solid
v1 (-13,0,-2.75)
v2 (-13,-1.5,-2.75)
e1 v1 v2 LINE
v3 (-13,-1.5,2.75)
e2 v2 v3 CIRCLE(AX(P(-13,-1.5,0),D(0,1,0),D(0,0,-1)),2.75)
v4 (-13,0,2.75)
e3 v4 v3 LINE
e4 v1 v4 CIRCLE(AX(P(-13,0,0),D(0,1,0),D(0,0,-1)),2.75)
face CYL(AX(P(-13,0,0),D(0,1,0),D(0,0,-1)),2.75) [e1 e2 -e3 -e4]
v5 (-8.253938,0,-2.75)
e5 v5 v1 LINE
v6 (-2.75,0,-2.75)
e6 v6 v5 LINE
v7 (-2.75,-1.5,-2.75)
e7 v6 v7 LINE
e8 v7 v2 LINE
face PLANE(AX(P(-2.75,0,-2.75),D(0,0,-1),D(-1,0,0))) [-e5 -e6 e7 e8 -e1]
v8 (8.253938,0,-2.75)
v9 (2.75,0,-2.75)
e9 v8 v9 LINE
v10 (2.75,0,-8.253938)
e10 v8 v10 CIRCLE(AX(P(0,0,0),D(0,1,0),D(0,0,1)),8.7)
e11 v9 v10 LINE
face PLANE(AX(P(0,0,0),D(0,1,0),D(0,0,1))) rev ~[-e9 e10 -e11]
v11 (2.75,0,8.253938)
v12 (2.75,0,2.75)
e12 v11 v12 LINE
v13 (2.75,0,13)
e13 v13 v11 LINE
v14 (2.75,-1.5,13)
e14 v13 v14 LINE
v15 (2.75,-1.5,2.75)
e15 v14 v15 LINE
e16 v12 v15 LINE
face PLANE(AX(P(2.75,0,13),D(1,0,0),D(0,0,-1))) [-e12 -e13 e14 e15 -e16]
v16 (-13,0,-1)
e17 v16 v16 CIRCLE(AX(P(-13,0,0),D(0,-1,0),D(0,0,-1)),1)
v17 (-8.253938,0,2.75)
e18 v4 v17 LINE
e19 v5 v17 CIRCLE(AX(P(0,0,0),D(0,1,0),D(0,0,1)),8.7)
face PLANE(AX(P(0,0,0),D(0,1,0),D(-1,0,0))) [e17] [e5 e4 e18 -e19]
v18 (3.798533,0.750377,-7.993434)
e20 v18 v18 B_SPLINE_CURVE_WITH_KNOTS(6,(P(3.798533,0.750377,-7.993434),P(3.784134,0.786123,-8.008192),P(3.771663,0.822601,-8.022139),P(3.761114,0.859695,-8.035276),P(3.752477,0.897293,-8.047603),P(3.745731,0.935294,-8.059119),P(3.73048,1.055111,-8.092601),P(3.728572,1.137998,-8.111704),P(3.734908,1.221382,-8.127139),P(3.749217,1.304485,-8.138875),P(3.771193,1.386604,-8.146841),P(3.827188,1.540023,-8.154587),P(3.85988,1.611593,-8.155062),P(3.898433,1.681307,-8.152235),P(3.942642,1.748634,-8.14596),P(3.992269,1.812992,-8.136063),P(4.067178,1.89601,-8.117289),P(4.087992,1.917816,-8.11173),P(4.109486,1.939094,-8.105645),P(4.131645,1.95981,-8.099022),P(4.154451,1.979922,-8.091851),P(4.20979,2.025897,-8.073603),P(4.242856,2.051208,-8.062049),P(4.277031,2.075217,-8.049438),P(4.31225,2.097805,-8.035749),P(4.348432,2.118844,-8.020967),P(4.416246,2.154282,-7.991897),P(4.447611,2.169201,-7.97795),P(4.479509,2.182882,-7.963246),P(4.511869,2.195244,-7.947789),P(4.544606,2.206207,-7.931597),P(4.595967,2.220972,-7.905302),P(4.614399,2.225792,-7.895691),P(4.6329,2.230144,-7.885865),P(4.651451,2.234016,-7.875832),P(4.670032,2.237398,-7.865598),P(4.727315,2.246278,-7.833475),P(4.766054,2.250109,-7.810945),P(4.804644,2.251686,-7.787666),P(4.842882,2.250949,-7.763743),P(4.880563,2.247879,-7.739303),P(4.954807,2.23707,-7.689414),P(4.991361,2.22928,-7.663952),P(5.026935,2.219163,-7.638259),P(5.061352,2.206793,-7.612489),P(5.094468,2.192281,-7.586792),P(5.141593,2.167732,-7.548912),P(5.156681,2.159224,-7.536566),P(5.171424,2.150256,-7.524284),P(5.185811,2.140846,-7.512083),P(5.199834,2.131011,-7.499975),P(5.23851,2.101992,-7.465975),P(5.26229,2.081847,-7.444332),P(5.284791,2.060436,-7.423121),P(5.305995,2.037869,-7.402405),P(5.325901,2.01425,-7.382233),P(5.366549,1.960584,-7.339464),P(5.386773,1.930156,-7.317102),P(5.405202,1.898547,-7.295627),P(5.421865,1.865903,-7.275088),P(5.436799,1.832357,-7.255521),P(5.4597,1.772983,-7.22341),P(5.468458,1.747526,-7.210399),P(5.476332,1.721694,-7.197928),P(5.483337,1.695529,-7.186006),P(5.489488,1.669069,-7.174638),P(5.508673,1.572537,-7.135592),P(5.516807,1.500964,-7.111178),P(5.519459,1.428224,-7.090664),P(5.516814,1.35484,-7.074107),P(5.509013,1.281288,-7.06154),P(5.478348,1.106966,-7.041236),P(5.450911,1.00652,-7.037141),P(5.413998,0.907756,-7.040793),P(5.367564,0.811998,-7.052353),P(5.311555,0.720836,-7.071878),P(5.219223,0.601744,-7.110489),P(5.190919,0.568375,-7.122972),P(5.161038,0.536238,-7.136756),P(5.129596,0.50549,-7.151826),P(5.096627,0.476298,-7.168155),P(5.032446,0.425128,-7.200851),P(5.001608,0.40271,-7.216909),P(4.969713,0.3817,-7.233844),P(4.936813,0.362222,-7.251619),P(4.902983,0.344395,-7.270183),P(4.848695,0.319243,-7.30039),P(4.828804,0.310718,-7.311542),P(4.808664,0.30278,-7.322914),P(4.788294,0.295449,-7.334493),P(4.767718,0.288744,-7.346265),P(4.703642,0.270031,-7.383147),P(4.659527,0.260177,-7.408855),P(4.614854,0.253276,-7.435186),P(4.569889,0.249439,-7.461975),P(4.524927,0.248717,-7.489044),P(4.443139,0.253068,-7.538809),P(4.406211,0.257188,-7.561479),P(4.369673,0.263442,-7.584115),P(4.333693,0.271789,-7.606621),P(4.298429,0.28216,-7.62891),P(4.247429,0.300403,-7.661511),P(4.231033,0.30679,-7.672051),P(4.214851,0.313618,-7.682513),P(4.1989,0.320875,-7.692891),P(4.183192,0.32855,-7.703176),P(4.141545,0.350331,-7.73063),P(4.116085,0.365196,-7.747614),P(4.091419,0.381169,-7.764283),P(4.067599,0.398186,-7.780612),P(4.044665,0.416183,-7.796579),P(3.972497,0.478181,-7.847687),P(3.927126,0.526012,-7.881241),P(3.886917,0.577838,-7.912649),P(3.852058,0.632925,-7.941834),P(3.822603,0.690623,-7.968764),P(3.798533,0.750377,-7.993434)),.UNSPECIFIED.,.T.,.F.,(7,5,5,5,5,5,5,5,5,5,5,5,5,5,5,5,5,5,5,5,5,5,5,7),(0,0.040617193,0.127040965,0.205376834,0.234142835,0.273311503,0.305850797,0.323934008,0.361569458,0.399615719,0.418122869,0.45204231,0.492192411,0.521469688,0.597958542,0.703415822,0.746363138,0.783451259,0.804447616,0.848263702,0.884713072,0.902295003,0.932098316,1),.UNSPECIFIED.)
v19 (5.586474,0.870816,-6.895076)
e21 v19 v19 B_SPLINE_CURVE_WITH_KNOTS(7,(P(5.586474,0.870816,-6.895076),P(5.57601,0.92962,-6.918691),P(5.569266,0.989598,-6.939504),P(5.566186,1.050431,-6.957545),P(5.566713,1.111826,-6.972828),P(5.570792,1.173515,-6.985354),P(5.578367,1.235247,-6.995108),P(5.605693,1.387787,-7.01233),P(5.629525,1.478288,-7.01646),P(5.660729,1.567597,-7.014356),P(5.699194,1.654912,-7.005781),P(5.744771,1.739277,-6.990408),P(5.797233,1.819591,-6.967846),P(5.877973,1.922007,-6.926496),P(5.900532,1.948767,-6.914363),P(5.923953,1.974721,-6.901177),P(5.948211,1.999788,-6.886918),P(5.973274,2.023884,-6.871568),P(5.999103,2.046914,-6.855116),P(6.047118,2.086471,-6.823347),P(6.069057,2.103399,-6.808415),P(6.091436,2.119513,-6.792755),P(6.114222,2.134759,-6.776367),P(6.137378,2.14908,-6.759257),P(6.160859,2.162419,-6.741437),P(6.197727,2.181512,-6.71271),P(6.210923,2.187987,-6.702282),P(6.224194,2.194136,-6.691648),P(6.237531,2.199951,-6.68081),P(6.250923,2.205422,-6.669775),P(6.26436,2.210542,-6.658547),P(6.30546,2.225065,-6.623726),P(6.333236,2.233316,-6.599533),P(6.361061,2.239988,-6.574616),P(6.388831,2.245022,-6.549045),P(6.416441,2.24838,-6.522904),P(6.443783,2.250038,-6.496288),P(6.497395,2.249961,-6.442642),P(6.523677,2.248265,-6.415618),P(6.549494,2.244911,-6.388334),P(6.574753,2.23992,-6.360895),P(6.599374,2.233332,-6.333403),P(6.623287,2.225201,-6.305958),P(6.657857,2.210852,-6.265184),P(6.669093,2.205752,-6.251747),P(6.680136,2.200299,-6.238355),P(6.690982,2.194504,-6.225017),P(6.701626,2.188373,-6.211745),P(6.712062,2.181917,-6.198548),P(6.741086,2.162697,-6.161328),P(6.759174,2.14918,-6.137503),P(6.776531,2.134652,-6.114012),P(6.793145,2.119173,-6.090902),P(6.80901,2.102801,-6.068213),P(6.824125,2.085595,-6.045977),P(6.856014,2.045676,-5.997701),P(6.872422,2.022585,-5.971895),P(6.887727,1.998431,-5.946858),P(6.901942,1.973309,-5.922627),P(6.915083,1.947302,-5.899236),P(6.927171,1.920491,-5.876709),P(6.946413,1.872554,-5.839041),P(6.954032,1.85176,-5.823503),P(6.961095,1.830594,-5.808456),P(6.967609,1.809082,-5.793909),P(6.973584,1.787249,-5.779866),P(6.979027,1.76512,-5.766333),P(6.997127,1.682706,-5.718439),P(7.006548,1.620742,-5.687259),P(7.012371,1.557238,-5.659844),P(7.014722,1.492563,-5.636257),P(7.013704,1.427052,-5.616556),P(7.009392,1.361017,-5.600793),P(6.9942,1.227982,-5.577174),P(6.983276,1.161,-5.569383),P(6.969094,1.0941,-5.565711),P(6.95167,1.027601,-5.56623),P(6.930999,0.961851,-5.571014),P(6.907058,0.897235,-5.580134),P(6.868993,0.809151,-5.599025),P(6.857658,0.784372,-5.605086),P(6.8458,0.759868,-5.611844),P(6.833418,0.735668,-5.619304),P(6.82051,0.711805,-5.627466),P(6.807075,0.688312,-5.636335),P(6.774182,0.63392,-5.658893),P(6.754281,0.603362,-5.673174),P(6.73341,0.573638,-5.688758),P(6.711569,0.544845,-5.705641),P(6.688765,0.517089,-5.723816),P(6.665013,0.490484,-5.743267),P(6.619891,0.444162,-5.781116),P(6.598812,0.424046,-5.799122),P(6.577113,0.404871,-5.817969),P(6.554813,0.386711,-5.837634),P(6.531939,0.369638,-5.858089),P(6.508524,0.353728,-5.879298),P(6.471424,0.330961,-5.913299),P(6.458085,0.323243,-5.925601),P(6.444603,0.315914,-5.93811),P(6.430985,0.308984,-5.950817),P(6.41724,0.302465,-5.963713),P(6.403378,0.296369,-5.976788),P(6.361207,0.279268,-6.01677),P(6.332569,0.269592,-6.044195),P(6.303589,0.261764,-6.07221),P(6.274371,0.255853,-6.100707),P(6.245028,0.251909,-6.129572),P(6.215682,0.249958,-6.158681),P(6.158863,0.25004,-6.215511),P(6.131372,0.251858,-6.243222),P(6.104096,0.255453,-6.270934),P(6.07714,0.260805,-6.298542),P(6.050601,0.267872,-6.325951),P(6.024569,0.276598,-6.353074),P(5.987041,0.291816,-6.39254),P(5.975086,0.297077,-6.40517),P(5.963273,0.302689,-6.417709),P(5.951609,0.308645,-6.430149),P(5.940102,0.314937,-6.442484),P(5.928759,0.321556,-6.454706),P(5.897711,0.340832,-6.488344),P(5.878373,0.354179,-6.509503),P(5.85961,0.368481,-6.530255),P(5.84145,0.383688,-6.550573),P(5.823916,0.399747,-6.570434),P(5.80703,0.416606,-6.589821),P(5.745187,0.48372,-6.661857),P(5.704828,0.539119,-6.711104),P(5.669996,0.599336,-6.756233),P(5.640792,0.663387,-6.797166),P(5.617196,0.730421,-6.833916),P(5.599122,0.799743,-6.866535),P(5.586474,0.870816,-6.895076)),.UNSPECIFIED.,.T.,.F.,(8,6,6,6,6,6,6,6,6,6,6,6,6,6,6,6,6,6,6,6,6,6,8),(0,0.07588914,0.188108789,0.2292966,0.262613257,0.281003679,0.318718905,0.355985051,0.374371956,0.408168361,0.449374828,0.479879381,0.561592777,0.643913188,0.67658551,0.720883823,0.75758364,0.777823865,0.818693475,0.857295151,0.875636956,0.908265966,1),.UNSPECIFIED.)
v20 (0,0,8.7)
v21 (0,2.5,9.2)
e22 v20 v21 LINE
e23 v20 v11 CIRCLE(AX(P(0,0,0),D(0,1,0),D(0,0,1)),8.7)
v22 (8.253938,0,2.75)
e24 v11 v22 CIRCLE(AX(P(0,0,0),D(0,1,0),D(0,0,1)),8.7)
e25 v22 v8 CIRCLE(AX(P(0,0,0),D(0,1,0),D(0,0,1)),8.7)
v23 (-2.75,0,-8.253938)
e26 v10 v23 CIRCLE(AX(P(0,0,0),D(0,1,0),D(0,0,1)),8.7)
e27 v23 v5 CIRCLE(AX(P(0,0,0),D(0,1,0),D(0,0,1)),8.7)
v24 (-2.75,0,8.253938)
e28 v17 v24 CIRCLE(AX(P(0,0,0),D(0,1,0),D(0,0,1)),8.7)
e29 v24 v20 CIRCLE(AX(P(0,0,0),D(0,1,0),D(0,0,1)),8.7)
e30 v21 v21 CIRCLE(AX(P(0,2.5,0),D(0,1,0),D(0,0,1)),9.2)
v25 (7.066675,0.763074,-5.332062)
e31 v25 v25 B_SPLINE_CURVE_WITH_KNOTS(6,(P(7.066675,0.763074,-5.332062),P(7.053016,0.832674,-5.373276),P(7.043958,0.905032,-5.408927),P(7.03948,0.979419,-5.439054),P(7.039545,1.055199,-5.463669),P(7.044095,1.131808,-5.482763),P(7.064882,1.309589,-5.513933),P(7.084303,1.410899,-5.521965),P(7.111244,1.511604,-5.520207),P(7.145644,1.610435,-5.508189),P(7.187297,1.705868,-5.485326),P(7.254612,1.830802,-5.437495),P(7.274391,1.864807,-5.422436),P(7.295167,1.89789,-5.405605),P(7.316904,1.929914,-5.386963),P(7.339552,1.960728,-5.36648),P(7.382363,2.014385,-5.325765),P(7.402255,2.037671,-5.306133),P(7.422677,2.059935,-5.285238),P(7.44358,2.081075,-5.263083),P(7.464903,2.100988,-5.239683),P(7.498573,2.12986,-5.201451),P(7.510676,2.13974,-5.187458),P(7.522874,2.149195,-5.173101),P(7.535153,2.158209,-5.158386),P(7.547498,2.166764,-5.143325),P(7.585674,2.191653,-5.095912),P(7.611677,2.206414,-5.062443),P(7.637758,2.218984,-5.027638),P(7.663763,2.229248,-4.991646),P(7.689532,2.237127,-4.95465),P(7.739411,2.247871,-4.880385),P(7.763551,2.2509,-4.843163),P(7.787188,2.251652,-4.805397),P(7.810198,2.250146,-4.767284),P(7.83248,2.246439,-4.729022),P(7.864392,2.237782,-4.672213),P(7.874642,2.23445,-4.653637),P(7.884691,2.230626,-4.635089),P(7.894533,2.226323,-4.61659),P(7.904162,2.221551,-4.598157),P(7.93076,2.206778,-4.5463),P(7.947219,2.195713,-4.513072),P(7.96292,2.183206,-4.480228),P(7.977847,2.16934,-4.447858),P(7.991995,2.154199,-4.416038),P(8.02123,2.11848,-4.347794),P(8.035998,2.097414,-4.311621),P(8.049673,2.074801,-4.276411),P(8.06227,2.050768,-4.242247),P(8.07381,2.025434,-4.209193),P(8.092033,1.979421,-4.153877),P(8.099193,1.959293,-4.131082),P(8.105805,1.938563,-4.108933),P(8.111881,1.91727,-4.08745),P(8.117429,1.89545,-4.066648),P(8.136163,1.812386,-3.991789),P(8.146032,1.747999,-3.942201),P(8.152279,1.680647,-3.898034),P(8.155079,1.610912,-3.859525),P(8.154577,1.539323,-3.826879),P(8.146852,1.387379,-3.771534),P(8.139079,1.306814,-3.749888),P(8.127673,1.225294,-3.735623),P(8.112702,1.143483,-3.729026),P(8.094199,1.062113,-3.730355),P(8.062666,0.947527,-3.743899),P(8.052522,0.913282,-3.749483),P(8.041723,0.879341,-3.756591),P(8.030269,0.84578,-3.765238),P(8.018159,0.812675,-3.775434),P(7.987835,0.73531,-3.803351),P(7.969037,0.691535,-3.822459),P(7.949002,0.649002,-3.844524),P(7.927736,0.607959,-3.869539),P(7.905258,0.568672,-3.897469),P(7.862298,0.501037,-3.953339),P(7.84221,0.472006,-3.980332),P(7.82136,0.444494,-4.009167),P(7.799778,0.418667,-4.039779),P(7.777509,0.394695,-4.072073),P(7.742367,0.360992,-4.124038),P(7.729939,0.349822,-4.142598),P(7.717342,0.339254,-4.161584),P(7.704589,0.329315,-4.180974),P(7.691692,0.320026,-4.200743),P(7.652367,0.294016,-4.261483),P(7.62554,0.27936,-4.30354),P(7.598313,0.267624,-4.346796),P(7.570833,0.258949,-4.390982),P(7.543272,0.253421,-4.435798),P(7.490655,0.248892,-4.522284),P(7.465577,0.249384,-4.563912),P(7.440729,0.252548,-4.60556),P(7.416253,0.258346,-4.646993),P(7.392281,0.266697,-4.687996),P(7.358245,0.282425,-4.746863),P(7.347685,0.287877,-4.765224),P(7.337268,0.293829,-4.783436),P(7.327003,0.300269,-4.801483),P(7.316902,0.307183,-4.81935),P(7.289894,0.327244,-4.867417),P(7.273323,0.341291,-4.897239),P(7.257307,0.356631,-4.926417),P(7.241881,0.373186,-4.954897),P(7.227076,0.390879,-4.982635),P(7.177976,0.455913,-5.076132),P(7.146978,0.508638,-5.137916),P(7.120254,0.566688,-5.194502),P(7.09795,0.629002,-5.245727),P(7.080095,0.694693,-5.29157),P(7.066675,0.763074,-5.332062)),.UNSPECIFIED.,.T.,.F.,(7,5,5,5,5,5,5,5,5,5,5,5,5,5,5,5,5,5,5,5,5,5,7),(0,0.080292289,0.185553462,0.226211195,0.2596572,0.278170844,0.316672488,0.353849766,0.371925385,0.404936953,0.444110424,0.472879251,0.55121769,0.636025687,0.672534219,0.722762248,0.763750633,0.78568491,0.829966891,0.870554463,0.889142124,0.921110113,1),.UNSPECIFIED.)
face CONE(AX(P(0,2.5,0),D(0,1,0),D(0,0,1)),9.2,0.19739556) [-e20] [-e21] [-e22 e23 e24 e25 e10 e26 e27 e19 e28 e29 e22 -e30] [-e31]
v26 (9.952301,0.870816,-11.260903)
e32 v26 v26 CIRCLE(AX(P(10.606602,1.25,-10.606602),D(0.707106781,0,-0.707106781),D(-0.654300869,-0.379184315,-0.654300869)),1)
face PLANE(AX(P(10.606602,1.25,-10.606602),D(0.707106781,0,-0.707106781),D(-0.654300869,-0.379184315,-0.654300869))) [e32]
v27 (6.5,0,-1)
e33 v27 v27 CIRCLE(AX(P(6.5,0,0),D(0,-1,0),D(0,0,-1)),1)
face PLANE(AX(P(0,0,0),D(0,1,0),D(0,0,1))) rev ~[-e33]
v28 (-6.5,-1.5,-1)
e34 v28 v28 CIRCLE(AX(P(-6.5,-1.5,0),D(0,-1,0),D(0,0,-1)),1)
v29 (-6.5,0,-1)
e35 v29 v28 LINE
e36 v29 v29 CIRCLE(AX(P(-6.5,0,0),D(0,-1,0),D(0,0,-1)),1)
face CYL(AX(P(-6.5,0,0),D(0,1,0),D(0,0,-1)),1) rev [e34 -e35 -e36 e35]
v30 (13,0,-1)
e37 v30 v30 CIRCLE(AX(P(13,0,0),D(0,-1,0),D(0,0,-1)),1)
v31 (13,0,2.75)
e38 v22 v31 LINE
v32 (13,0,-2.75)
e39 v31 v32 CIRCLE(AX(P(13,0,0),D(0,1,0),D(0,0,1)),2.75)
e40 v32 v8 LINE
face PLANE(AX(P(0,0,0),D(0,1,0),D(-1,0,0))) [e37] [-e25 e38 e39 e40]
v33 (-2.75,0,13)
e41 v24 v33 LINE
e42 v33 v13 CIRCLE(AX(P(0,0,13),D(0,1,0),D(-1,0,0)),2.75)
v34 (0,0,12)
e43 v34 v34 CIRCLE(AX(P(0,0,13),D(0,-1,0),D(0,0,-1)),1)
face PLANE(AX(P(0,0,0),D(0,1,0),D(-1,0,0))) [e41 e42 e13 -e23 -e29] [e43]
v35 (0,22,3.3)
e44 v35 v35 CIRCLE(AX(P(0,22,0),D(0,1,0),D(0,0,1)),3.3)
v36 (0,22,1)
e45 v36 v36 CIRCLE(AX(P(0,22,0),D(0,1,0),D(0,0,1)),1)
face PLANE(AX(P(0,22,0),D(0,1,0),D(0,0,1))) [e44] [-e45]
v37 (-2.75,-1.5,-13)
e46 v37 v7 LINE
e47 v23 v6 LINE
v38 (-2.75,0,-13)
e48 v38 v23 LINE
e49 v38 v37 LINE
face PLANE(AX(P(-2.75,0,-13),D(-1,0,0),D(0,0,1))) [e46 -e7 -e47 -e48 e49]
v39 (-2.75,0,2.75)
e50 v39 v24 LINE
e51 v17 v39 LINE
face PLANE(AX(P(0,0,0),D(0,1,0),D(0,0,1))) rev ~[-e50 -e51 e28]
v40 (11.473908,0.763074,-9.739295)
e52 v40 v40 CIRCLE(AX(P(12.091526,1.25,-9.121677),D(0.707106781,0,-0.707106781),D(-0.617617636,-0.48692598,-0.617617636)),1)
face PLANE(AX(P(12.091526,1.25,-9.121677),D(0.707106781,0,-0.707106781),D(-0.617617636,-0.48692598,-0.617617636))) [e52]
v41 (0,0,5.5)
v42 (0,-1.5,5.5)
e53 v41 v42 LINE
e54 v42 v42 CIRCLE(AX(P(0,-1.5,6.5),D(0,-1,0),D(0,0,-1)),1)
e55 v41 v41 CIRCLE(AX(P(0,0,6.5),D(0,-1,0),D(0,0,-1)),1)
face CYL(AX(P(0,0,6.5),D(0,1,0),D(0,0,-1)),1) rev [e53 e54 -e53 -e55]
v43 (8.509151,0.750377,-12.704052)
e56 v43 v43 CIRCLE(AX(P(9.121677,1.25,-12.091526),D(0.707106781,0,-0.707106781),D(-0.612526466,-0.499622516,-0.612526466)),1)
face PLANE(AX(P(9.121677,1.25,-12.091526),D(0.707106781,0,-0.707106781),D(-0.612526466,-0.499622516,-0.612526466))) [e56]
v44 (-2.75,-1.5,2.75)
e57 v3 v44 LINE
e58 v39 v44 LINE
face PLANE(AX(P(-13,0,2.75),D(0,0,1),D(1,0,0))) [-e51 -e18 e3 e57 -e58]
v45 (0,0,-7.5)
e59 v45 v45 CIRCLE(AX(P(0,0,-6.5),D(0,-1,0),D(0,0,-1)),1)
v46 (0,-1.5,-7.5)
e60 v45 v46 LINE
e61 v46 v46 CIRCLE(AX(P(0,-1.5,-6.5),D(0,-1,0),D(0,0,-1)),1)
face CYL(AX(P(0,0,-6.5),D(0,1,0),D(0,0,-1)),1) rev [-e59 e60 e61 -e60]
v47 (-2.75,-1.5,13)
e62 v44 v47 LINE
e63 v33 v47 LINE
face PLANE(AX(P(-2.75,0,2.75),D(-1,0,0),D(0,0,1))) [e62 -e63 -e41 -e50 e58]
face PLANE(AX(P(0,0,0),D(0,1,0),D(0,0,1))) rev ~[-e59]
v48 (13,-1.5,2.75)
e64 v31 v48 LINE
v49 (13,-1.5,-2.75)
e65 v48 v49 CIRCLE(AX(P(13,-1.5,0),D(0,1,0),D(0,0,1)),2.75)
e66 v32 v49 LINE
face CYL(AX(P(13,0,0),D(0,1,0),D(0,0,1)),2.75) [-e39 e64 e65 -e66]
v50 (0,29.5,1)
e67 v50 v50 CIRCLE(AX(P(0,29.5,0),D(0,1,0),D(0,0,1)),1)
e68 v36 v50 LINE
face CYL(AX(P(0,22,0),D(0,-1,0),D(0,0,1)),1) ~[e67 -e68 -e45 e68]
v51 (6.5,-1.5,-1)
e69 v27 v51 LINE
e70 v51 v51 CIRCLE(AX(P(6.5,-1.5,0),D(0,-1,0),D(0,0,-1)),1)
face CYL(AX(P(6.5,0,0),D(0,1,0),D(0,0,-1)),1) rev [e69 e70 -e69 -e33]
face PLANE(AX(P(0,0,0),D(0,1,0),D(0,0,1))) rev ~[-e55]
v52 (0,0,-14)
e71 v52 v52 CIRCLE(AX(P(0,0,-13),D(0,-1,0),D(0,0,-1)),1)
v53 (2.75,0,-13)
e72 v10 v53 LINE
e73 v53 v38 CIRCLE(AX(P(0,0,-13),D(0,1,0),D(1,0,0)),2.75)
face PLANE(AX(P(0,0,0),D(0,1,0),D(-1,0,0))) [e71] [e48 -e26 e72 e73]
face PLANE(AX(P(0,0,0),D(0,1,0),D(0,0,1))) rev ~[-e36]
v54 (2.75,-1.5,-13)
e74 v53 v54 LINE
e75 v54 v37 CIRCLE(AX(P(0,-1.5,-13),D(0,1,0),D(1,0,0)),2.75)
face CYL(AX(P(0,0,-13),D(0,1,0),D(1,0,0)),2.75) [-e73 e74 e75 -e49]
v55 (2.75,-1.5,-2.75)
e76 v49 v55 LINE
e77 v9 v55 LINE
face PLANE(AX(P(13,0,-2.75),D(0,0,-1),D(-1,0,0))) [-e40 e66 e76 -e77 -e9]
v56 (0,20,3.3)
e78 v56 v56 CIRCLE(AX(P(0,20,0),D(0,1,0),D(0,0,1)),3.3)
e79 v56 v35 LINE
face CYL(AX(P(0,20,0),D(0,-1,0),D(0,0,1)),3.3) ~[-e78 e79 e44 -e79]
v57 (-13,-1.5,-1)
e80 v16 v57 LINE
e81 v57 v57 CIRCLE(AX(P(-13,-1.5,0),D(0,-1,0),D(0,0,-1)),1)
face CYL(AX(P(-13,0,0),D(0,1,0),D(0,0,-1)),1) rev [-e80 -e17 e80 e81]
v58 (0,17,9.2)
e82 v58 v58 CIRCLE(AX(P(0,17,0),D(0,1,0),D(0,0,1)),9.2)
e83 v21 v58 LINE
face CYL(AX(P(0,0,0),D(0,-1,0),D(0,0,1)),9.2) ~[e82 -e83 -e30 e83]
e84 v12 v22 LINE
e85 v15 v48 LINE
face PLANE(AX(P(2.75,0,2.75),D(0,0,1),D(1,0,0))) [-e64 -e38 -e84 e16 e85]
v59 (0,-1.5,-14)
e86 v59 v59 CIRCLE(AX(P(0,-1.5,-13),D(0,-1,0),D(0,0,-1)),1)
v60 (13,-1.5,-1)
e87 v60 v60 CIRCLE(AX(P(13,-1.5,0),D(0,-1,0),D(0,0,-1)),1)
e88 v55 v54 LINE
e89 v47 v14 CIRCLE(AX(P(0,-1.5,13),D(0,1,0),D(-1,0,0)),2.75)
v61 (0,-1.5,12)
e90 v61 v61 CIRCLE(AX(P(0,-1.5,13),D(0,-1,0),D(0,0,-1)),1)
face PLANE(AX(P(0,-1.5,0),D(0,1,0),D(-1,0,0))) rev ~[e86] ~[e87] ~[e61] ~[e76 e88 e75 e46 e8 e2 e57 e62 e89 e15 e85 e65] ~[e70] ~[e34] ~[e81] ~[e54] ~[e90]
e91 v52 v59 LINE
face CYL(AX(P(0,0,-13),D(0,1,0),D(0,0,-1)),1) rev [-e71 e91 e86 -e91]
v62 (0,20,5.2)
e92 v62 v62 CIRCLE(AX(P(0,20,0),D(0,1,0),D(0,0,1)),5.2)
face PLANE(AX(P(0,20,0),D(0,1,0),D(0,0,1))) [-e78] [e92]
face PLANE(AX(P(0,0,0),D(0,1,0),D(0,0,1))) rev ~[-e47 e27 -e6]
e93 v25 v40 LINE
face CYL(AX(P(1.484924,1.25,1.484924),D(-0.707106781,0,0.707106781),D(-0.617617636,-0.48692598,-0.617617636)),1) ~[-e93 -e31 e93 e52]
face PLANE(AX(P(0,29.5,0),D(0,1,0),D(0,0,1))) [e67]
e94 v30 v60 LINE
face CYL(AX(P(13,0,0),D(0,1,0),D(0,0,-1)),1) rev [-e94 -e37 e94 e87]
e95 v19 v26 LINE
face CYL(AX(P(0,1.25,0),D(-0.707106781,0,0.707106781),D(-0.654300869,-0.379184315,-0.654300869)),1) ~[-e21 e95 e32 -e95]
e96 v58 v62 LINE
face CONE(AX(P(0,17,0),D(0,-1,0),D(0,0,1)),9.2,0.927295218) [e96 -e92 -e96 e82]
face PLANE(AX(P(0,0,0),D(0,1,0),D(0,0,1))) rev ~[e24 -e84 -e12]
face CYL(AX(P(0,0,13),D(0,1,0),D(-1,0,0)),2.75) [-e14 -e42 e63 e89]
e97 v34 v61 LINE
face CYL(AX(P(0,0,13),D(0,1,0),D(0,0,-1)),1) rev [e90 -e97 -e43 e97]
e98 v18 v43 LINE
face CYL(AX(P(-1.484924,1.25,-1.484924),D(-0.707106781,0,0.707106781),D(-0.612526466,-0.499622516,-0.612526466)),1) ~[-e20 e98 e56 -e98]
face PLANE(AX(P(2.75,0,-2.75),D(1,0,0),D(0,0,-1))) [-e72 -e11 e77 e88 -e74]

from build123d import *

# Parameters (mm, degrees)
SKETCH1_R           = 9.2
BOSS_EXTRUDE1_DEPTH = 20
CHAMFER1_SIZE       = 3
CHAMFER1_SIZE2      = 4
SKETCH2_R           = 3.3
BOSS_EXTRUDE2_DEPTH = 2
SKETCH3_R           = 1
BOSS_EXTRUDE3_DEPTH = 7.5
CHAMFER2_SIZE       = 0.5
CHAMFER2_SIZE2      = 2.5
SKETCH4_R           = 1
BOSS_EXTRUDE4_DEPTH = 1.5
SKETCH5_R           = 1
BOSS_EXTRUDE5_DEPTH = 15


with BuildPart() as part:
    # Sketch1 → Boss-Extrude1 (new body)
    with BuildSketch(Plane(origin=(0, 0, 0), x_dir=(1, 0, 0), z_dir=(0, 1, 0))):
        with Locations(Location((0, 0, 0), (0, 0, 270))):
            Circle(SKETCH1_R)
    extrude(amount=BOSS_EXTRUDE1_DEPTH)

    # Chamfer1
    chamfer1_edges = [part.edges().sort_by_distance(p)[0] for p in [
        (0, 20, -9.2),
    ]]
    chamfer1_side = [part.faces().sort_by_distance(p)[0] for p in [
        (0, 10, -9.2),
    ]]
    chamfer(chamfer1_edges, length=CHAMFER1_SIZE, length2=CHAMFER1_SIZE2, reference=chamfer1_side[0])

    # Sketch2 → Boss-Extrude2 (add)
    with BuildSketch(Plane(origin=(0, 20, 0), x_dir=(1, 0, 0), z_dir=(0, 1, 0))):
        with Locations(Location((0, 0, 0), (0, 0, 270))):
            Circle(SKETCH2_R)
    extrude(amount=BOSS_EXTRUDE2_DEPTH)

    # Sketch3 → Boss-Extrude3 (add)
    with BuildSketch(Plane(origin=(0, 22, 0), x_dir=(1, 0, 0), z_dir=(0, 1, 0))):
        with Locations(Location((0, 0, 0), (0, 0, 270))):
            Circle(SKETCH3_R)
    extrude(amount=BOSS_EXTRUDE3_DEPTH)

    # Chamfer2
    chamfer2_edges = [part.edges().sort_by_distance(p)[0] for p in [
        (0, 0, -9.2),
    ]]
    chamfer2_side = [part.faces().sort_by_distance(p)[0] for p in [
        (0, 0, 0),
    ]]
    chamfer(chamfer2_edges, length=CHAMFER2_SIZE, length2=CHAMFER2_SIZE2, reference=chamfer2_side[0])

    # Sketch4 → Boss-Extrude4 (add)
    with BuildSketch(Plane.XZ):
        with BuildLine():
            Line((-2.75, 2.75), (-2.75, 13))
            ThreePointArc((-2.75, 13), (0, 15.75), (2.75, 13))
            Line((2.75, 13), (2.75, 2.75))
            Line((2.75, 2.75), (13, 2.75))
            ThreePointArc((13, 2.75), (15.75, 0), (13, -2.75))
            Line((13, -2.75), (2.75, -2.75))
            Line((2.75, -2.75), (2.75, -13))
            ThreePointArc((2.75, -13), (0, -15.75), (-2.75, -13))
            Line((-2.75, -13), (-2.75, -2.75))
            Line((-2.75, -2.75), (-13, -2.75))
            ThreePointArc((-13, -2.75), (-15.75, 0), (-13, 2.75))
            Line((-13, 2.75), (-2.75, 2.75))
        make_face()
        with Locations(Location((0, 13, 0), (0, 0, 270))):
            Circle(SKETCH4_R, mode=Mode.SUBTRACT)
        with Locations(Location((13, 0, 0), (0, 0, 270))):
            Circle(SKETCH4_R, mode=Mode.SUBTRACT)
        with Locations(Location((0, -13, 0), (0, 0, 270))):
            Circle(SKETCH4_R, mode=Mode.SUBTRACT)
        with Locations(Location((-13, 0, 0), (0, 0, 270))):
            Circle(SKETCH4_R, mode=Mode.SUBTRACT)
        with Locations(Location((0, 6.5, 0), (0, 0, 270))):
            Circle(SKETCH4_R, mode=Mode.SUBTRACT)
        with Locations(Location((6.5, 0, 0), (0, 0, 270))):
            Circle(SKETCH4_R, mode=Mode.SUBTRACT)
        with Locations(Location((0, -6.5, 0), (0, 0, 270))):
            Circle(SKETCH4_R, mode=Mode.SUBTRACT)
        with Locations(Location((-6.5, 0, 0), (0, 0, 270))):
            Circle(SKETCH4_R, mode=Mode.SUBTRACT)
    extrude(amount=BOSS_EXTRUDE4_DEPTH)

    # Sketch5 → Boss-Extrude5 (add)
    with BuildSketch(Plane(origin=(0, 0, 0), x_dir=(-0.7071067811865477, 0, -0.7071067811865475), z_dir=(0.7071067811865475, 0, -0.7071067811865477))):
        with Locations(Location((-2.1, 1.25, 0), (0, 0, 330.861265368))):
            Circle(SKETCH5_R)
        with Locations(Location((0, 1.25, 0), (0, 0, 337.716833598))):
            Circle(SKETCH5_R)
        with Locations(Location((2.1, 1.25, 0), (0, 0, 330.024971027))):
            Circle(SKETCH5_R)
    extrude(amount=BOSS_EXTRUDE5_DEPTH)


solid = part.part
